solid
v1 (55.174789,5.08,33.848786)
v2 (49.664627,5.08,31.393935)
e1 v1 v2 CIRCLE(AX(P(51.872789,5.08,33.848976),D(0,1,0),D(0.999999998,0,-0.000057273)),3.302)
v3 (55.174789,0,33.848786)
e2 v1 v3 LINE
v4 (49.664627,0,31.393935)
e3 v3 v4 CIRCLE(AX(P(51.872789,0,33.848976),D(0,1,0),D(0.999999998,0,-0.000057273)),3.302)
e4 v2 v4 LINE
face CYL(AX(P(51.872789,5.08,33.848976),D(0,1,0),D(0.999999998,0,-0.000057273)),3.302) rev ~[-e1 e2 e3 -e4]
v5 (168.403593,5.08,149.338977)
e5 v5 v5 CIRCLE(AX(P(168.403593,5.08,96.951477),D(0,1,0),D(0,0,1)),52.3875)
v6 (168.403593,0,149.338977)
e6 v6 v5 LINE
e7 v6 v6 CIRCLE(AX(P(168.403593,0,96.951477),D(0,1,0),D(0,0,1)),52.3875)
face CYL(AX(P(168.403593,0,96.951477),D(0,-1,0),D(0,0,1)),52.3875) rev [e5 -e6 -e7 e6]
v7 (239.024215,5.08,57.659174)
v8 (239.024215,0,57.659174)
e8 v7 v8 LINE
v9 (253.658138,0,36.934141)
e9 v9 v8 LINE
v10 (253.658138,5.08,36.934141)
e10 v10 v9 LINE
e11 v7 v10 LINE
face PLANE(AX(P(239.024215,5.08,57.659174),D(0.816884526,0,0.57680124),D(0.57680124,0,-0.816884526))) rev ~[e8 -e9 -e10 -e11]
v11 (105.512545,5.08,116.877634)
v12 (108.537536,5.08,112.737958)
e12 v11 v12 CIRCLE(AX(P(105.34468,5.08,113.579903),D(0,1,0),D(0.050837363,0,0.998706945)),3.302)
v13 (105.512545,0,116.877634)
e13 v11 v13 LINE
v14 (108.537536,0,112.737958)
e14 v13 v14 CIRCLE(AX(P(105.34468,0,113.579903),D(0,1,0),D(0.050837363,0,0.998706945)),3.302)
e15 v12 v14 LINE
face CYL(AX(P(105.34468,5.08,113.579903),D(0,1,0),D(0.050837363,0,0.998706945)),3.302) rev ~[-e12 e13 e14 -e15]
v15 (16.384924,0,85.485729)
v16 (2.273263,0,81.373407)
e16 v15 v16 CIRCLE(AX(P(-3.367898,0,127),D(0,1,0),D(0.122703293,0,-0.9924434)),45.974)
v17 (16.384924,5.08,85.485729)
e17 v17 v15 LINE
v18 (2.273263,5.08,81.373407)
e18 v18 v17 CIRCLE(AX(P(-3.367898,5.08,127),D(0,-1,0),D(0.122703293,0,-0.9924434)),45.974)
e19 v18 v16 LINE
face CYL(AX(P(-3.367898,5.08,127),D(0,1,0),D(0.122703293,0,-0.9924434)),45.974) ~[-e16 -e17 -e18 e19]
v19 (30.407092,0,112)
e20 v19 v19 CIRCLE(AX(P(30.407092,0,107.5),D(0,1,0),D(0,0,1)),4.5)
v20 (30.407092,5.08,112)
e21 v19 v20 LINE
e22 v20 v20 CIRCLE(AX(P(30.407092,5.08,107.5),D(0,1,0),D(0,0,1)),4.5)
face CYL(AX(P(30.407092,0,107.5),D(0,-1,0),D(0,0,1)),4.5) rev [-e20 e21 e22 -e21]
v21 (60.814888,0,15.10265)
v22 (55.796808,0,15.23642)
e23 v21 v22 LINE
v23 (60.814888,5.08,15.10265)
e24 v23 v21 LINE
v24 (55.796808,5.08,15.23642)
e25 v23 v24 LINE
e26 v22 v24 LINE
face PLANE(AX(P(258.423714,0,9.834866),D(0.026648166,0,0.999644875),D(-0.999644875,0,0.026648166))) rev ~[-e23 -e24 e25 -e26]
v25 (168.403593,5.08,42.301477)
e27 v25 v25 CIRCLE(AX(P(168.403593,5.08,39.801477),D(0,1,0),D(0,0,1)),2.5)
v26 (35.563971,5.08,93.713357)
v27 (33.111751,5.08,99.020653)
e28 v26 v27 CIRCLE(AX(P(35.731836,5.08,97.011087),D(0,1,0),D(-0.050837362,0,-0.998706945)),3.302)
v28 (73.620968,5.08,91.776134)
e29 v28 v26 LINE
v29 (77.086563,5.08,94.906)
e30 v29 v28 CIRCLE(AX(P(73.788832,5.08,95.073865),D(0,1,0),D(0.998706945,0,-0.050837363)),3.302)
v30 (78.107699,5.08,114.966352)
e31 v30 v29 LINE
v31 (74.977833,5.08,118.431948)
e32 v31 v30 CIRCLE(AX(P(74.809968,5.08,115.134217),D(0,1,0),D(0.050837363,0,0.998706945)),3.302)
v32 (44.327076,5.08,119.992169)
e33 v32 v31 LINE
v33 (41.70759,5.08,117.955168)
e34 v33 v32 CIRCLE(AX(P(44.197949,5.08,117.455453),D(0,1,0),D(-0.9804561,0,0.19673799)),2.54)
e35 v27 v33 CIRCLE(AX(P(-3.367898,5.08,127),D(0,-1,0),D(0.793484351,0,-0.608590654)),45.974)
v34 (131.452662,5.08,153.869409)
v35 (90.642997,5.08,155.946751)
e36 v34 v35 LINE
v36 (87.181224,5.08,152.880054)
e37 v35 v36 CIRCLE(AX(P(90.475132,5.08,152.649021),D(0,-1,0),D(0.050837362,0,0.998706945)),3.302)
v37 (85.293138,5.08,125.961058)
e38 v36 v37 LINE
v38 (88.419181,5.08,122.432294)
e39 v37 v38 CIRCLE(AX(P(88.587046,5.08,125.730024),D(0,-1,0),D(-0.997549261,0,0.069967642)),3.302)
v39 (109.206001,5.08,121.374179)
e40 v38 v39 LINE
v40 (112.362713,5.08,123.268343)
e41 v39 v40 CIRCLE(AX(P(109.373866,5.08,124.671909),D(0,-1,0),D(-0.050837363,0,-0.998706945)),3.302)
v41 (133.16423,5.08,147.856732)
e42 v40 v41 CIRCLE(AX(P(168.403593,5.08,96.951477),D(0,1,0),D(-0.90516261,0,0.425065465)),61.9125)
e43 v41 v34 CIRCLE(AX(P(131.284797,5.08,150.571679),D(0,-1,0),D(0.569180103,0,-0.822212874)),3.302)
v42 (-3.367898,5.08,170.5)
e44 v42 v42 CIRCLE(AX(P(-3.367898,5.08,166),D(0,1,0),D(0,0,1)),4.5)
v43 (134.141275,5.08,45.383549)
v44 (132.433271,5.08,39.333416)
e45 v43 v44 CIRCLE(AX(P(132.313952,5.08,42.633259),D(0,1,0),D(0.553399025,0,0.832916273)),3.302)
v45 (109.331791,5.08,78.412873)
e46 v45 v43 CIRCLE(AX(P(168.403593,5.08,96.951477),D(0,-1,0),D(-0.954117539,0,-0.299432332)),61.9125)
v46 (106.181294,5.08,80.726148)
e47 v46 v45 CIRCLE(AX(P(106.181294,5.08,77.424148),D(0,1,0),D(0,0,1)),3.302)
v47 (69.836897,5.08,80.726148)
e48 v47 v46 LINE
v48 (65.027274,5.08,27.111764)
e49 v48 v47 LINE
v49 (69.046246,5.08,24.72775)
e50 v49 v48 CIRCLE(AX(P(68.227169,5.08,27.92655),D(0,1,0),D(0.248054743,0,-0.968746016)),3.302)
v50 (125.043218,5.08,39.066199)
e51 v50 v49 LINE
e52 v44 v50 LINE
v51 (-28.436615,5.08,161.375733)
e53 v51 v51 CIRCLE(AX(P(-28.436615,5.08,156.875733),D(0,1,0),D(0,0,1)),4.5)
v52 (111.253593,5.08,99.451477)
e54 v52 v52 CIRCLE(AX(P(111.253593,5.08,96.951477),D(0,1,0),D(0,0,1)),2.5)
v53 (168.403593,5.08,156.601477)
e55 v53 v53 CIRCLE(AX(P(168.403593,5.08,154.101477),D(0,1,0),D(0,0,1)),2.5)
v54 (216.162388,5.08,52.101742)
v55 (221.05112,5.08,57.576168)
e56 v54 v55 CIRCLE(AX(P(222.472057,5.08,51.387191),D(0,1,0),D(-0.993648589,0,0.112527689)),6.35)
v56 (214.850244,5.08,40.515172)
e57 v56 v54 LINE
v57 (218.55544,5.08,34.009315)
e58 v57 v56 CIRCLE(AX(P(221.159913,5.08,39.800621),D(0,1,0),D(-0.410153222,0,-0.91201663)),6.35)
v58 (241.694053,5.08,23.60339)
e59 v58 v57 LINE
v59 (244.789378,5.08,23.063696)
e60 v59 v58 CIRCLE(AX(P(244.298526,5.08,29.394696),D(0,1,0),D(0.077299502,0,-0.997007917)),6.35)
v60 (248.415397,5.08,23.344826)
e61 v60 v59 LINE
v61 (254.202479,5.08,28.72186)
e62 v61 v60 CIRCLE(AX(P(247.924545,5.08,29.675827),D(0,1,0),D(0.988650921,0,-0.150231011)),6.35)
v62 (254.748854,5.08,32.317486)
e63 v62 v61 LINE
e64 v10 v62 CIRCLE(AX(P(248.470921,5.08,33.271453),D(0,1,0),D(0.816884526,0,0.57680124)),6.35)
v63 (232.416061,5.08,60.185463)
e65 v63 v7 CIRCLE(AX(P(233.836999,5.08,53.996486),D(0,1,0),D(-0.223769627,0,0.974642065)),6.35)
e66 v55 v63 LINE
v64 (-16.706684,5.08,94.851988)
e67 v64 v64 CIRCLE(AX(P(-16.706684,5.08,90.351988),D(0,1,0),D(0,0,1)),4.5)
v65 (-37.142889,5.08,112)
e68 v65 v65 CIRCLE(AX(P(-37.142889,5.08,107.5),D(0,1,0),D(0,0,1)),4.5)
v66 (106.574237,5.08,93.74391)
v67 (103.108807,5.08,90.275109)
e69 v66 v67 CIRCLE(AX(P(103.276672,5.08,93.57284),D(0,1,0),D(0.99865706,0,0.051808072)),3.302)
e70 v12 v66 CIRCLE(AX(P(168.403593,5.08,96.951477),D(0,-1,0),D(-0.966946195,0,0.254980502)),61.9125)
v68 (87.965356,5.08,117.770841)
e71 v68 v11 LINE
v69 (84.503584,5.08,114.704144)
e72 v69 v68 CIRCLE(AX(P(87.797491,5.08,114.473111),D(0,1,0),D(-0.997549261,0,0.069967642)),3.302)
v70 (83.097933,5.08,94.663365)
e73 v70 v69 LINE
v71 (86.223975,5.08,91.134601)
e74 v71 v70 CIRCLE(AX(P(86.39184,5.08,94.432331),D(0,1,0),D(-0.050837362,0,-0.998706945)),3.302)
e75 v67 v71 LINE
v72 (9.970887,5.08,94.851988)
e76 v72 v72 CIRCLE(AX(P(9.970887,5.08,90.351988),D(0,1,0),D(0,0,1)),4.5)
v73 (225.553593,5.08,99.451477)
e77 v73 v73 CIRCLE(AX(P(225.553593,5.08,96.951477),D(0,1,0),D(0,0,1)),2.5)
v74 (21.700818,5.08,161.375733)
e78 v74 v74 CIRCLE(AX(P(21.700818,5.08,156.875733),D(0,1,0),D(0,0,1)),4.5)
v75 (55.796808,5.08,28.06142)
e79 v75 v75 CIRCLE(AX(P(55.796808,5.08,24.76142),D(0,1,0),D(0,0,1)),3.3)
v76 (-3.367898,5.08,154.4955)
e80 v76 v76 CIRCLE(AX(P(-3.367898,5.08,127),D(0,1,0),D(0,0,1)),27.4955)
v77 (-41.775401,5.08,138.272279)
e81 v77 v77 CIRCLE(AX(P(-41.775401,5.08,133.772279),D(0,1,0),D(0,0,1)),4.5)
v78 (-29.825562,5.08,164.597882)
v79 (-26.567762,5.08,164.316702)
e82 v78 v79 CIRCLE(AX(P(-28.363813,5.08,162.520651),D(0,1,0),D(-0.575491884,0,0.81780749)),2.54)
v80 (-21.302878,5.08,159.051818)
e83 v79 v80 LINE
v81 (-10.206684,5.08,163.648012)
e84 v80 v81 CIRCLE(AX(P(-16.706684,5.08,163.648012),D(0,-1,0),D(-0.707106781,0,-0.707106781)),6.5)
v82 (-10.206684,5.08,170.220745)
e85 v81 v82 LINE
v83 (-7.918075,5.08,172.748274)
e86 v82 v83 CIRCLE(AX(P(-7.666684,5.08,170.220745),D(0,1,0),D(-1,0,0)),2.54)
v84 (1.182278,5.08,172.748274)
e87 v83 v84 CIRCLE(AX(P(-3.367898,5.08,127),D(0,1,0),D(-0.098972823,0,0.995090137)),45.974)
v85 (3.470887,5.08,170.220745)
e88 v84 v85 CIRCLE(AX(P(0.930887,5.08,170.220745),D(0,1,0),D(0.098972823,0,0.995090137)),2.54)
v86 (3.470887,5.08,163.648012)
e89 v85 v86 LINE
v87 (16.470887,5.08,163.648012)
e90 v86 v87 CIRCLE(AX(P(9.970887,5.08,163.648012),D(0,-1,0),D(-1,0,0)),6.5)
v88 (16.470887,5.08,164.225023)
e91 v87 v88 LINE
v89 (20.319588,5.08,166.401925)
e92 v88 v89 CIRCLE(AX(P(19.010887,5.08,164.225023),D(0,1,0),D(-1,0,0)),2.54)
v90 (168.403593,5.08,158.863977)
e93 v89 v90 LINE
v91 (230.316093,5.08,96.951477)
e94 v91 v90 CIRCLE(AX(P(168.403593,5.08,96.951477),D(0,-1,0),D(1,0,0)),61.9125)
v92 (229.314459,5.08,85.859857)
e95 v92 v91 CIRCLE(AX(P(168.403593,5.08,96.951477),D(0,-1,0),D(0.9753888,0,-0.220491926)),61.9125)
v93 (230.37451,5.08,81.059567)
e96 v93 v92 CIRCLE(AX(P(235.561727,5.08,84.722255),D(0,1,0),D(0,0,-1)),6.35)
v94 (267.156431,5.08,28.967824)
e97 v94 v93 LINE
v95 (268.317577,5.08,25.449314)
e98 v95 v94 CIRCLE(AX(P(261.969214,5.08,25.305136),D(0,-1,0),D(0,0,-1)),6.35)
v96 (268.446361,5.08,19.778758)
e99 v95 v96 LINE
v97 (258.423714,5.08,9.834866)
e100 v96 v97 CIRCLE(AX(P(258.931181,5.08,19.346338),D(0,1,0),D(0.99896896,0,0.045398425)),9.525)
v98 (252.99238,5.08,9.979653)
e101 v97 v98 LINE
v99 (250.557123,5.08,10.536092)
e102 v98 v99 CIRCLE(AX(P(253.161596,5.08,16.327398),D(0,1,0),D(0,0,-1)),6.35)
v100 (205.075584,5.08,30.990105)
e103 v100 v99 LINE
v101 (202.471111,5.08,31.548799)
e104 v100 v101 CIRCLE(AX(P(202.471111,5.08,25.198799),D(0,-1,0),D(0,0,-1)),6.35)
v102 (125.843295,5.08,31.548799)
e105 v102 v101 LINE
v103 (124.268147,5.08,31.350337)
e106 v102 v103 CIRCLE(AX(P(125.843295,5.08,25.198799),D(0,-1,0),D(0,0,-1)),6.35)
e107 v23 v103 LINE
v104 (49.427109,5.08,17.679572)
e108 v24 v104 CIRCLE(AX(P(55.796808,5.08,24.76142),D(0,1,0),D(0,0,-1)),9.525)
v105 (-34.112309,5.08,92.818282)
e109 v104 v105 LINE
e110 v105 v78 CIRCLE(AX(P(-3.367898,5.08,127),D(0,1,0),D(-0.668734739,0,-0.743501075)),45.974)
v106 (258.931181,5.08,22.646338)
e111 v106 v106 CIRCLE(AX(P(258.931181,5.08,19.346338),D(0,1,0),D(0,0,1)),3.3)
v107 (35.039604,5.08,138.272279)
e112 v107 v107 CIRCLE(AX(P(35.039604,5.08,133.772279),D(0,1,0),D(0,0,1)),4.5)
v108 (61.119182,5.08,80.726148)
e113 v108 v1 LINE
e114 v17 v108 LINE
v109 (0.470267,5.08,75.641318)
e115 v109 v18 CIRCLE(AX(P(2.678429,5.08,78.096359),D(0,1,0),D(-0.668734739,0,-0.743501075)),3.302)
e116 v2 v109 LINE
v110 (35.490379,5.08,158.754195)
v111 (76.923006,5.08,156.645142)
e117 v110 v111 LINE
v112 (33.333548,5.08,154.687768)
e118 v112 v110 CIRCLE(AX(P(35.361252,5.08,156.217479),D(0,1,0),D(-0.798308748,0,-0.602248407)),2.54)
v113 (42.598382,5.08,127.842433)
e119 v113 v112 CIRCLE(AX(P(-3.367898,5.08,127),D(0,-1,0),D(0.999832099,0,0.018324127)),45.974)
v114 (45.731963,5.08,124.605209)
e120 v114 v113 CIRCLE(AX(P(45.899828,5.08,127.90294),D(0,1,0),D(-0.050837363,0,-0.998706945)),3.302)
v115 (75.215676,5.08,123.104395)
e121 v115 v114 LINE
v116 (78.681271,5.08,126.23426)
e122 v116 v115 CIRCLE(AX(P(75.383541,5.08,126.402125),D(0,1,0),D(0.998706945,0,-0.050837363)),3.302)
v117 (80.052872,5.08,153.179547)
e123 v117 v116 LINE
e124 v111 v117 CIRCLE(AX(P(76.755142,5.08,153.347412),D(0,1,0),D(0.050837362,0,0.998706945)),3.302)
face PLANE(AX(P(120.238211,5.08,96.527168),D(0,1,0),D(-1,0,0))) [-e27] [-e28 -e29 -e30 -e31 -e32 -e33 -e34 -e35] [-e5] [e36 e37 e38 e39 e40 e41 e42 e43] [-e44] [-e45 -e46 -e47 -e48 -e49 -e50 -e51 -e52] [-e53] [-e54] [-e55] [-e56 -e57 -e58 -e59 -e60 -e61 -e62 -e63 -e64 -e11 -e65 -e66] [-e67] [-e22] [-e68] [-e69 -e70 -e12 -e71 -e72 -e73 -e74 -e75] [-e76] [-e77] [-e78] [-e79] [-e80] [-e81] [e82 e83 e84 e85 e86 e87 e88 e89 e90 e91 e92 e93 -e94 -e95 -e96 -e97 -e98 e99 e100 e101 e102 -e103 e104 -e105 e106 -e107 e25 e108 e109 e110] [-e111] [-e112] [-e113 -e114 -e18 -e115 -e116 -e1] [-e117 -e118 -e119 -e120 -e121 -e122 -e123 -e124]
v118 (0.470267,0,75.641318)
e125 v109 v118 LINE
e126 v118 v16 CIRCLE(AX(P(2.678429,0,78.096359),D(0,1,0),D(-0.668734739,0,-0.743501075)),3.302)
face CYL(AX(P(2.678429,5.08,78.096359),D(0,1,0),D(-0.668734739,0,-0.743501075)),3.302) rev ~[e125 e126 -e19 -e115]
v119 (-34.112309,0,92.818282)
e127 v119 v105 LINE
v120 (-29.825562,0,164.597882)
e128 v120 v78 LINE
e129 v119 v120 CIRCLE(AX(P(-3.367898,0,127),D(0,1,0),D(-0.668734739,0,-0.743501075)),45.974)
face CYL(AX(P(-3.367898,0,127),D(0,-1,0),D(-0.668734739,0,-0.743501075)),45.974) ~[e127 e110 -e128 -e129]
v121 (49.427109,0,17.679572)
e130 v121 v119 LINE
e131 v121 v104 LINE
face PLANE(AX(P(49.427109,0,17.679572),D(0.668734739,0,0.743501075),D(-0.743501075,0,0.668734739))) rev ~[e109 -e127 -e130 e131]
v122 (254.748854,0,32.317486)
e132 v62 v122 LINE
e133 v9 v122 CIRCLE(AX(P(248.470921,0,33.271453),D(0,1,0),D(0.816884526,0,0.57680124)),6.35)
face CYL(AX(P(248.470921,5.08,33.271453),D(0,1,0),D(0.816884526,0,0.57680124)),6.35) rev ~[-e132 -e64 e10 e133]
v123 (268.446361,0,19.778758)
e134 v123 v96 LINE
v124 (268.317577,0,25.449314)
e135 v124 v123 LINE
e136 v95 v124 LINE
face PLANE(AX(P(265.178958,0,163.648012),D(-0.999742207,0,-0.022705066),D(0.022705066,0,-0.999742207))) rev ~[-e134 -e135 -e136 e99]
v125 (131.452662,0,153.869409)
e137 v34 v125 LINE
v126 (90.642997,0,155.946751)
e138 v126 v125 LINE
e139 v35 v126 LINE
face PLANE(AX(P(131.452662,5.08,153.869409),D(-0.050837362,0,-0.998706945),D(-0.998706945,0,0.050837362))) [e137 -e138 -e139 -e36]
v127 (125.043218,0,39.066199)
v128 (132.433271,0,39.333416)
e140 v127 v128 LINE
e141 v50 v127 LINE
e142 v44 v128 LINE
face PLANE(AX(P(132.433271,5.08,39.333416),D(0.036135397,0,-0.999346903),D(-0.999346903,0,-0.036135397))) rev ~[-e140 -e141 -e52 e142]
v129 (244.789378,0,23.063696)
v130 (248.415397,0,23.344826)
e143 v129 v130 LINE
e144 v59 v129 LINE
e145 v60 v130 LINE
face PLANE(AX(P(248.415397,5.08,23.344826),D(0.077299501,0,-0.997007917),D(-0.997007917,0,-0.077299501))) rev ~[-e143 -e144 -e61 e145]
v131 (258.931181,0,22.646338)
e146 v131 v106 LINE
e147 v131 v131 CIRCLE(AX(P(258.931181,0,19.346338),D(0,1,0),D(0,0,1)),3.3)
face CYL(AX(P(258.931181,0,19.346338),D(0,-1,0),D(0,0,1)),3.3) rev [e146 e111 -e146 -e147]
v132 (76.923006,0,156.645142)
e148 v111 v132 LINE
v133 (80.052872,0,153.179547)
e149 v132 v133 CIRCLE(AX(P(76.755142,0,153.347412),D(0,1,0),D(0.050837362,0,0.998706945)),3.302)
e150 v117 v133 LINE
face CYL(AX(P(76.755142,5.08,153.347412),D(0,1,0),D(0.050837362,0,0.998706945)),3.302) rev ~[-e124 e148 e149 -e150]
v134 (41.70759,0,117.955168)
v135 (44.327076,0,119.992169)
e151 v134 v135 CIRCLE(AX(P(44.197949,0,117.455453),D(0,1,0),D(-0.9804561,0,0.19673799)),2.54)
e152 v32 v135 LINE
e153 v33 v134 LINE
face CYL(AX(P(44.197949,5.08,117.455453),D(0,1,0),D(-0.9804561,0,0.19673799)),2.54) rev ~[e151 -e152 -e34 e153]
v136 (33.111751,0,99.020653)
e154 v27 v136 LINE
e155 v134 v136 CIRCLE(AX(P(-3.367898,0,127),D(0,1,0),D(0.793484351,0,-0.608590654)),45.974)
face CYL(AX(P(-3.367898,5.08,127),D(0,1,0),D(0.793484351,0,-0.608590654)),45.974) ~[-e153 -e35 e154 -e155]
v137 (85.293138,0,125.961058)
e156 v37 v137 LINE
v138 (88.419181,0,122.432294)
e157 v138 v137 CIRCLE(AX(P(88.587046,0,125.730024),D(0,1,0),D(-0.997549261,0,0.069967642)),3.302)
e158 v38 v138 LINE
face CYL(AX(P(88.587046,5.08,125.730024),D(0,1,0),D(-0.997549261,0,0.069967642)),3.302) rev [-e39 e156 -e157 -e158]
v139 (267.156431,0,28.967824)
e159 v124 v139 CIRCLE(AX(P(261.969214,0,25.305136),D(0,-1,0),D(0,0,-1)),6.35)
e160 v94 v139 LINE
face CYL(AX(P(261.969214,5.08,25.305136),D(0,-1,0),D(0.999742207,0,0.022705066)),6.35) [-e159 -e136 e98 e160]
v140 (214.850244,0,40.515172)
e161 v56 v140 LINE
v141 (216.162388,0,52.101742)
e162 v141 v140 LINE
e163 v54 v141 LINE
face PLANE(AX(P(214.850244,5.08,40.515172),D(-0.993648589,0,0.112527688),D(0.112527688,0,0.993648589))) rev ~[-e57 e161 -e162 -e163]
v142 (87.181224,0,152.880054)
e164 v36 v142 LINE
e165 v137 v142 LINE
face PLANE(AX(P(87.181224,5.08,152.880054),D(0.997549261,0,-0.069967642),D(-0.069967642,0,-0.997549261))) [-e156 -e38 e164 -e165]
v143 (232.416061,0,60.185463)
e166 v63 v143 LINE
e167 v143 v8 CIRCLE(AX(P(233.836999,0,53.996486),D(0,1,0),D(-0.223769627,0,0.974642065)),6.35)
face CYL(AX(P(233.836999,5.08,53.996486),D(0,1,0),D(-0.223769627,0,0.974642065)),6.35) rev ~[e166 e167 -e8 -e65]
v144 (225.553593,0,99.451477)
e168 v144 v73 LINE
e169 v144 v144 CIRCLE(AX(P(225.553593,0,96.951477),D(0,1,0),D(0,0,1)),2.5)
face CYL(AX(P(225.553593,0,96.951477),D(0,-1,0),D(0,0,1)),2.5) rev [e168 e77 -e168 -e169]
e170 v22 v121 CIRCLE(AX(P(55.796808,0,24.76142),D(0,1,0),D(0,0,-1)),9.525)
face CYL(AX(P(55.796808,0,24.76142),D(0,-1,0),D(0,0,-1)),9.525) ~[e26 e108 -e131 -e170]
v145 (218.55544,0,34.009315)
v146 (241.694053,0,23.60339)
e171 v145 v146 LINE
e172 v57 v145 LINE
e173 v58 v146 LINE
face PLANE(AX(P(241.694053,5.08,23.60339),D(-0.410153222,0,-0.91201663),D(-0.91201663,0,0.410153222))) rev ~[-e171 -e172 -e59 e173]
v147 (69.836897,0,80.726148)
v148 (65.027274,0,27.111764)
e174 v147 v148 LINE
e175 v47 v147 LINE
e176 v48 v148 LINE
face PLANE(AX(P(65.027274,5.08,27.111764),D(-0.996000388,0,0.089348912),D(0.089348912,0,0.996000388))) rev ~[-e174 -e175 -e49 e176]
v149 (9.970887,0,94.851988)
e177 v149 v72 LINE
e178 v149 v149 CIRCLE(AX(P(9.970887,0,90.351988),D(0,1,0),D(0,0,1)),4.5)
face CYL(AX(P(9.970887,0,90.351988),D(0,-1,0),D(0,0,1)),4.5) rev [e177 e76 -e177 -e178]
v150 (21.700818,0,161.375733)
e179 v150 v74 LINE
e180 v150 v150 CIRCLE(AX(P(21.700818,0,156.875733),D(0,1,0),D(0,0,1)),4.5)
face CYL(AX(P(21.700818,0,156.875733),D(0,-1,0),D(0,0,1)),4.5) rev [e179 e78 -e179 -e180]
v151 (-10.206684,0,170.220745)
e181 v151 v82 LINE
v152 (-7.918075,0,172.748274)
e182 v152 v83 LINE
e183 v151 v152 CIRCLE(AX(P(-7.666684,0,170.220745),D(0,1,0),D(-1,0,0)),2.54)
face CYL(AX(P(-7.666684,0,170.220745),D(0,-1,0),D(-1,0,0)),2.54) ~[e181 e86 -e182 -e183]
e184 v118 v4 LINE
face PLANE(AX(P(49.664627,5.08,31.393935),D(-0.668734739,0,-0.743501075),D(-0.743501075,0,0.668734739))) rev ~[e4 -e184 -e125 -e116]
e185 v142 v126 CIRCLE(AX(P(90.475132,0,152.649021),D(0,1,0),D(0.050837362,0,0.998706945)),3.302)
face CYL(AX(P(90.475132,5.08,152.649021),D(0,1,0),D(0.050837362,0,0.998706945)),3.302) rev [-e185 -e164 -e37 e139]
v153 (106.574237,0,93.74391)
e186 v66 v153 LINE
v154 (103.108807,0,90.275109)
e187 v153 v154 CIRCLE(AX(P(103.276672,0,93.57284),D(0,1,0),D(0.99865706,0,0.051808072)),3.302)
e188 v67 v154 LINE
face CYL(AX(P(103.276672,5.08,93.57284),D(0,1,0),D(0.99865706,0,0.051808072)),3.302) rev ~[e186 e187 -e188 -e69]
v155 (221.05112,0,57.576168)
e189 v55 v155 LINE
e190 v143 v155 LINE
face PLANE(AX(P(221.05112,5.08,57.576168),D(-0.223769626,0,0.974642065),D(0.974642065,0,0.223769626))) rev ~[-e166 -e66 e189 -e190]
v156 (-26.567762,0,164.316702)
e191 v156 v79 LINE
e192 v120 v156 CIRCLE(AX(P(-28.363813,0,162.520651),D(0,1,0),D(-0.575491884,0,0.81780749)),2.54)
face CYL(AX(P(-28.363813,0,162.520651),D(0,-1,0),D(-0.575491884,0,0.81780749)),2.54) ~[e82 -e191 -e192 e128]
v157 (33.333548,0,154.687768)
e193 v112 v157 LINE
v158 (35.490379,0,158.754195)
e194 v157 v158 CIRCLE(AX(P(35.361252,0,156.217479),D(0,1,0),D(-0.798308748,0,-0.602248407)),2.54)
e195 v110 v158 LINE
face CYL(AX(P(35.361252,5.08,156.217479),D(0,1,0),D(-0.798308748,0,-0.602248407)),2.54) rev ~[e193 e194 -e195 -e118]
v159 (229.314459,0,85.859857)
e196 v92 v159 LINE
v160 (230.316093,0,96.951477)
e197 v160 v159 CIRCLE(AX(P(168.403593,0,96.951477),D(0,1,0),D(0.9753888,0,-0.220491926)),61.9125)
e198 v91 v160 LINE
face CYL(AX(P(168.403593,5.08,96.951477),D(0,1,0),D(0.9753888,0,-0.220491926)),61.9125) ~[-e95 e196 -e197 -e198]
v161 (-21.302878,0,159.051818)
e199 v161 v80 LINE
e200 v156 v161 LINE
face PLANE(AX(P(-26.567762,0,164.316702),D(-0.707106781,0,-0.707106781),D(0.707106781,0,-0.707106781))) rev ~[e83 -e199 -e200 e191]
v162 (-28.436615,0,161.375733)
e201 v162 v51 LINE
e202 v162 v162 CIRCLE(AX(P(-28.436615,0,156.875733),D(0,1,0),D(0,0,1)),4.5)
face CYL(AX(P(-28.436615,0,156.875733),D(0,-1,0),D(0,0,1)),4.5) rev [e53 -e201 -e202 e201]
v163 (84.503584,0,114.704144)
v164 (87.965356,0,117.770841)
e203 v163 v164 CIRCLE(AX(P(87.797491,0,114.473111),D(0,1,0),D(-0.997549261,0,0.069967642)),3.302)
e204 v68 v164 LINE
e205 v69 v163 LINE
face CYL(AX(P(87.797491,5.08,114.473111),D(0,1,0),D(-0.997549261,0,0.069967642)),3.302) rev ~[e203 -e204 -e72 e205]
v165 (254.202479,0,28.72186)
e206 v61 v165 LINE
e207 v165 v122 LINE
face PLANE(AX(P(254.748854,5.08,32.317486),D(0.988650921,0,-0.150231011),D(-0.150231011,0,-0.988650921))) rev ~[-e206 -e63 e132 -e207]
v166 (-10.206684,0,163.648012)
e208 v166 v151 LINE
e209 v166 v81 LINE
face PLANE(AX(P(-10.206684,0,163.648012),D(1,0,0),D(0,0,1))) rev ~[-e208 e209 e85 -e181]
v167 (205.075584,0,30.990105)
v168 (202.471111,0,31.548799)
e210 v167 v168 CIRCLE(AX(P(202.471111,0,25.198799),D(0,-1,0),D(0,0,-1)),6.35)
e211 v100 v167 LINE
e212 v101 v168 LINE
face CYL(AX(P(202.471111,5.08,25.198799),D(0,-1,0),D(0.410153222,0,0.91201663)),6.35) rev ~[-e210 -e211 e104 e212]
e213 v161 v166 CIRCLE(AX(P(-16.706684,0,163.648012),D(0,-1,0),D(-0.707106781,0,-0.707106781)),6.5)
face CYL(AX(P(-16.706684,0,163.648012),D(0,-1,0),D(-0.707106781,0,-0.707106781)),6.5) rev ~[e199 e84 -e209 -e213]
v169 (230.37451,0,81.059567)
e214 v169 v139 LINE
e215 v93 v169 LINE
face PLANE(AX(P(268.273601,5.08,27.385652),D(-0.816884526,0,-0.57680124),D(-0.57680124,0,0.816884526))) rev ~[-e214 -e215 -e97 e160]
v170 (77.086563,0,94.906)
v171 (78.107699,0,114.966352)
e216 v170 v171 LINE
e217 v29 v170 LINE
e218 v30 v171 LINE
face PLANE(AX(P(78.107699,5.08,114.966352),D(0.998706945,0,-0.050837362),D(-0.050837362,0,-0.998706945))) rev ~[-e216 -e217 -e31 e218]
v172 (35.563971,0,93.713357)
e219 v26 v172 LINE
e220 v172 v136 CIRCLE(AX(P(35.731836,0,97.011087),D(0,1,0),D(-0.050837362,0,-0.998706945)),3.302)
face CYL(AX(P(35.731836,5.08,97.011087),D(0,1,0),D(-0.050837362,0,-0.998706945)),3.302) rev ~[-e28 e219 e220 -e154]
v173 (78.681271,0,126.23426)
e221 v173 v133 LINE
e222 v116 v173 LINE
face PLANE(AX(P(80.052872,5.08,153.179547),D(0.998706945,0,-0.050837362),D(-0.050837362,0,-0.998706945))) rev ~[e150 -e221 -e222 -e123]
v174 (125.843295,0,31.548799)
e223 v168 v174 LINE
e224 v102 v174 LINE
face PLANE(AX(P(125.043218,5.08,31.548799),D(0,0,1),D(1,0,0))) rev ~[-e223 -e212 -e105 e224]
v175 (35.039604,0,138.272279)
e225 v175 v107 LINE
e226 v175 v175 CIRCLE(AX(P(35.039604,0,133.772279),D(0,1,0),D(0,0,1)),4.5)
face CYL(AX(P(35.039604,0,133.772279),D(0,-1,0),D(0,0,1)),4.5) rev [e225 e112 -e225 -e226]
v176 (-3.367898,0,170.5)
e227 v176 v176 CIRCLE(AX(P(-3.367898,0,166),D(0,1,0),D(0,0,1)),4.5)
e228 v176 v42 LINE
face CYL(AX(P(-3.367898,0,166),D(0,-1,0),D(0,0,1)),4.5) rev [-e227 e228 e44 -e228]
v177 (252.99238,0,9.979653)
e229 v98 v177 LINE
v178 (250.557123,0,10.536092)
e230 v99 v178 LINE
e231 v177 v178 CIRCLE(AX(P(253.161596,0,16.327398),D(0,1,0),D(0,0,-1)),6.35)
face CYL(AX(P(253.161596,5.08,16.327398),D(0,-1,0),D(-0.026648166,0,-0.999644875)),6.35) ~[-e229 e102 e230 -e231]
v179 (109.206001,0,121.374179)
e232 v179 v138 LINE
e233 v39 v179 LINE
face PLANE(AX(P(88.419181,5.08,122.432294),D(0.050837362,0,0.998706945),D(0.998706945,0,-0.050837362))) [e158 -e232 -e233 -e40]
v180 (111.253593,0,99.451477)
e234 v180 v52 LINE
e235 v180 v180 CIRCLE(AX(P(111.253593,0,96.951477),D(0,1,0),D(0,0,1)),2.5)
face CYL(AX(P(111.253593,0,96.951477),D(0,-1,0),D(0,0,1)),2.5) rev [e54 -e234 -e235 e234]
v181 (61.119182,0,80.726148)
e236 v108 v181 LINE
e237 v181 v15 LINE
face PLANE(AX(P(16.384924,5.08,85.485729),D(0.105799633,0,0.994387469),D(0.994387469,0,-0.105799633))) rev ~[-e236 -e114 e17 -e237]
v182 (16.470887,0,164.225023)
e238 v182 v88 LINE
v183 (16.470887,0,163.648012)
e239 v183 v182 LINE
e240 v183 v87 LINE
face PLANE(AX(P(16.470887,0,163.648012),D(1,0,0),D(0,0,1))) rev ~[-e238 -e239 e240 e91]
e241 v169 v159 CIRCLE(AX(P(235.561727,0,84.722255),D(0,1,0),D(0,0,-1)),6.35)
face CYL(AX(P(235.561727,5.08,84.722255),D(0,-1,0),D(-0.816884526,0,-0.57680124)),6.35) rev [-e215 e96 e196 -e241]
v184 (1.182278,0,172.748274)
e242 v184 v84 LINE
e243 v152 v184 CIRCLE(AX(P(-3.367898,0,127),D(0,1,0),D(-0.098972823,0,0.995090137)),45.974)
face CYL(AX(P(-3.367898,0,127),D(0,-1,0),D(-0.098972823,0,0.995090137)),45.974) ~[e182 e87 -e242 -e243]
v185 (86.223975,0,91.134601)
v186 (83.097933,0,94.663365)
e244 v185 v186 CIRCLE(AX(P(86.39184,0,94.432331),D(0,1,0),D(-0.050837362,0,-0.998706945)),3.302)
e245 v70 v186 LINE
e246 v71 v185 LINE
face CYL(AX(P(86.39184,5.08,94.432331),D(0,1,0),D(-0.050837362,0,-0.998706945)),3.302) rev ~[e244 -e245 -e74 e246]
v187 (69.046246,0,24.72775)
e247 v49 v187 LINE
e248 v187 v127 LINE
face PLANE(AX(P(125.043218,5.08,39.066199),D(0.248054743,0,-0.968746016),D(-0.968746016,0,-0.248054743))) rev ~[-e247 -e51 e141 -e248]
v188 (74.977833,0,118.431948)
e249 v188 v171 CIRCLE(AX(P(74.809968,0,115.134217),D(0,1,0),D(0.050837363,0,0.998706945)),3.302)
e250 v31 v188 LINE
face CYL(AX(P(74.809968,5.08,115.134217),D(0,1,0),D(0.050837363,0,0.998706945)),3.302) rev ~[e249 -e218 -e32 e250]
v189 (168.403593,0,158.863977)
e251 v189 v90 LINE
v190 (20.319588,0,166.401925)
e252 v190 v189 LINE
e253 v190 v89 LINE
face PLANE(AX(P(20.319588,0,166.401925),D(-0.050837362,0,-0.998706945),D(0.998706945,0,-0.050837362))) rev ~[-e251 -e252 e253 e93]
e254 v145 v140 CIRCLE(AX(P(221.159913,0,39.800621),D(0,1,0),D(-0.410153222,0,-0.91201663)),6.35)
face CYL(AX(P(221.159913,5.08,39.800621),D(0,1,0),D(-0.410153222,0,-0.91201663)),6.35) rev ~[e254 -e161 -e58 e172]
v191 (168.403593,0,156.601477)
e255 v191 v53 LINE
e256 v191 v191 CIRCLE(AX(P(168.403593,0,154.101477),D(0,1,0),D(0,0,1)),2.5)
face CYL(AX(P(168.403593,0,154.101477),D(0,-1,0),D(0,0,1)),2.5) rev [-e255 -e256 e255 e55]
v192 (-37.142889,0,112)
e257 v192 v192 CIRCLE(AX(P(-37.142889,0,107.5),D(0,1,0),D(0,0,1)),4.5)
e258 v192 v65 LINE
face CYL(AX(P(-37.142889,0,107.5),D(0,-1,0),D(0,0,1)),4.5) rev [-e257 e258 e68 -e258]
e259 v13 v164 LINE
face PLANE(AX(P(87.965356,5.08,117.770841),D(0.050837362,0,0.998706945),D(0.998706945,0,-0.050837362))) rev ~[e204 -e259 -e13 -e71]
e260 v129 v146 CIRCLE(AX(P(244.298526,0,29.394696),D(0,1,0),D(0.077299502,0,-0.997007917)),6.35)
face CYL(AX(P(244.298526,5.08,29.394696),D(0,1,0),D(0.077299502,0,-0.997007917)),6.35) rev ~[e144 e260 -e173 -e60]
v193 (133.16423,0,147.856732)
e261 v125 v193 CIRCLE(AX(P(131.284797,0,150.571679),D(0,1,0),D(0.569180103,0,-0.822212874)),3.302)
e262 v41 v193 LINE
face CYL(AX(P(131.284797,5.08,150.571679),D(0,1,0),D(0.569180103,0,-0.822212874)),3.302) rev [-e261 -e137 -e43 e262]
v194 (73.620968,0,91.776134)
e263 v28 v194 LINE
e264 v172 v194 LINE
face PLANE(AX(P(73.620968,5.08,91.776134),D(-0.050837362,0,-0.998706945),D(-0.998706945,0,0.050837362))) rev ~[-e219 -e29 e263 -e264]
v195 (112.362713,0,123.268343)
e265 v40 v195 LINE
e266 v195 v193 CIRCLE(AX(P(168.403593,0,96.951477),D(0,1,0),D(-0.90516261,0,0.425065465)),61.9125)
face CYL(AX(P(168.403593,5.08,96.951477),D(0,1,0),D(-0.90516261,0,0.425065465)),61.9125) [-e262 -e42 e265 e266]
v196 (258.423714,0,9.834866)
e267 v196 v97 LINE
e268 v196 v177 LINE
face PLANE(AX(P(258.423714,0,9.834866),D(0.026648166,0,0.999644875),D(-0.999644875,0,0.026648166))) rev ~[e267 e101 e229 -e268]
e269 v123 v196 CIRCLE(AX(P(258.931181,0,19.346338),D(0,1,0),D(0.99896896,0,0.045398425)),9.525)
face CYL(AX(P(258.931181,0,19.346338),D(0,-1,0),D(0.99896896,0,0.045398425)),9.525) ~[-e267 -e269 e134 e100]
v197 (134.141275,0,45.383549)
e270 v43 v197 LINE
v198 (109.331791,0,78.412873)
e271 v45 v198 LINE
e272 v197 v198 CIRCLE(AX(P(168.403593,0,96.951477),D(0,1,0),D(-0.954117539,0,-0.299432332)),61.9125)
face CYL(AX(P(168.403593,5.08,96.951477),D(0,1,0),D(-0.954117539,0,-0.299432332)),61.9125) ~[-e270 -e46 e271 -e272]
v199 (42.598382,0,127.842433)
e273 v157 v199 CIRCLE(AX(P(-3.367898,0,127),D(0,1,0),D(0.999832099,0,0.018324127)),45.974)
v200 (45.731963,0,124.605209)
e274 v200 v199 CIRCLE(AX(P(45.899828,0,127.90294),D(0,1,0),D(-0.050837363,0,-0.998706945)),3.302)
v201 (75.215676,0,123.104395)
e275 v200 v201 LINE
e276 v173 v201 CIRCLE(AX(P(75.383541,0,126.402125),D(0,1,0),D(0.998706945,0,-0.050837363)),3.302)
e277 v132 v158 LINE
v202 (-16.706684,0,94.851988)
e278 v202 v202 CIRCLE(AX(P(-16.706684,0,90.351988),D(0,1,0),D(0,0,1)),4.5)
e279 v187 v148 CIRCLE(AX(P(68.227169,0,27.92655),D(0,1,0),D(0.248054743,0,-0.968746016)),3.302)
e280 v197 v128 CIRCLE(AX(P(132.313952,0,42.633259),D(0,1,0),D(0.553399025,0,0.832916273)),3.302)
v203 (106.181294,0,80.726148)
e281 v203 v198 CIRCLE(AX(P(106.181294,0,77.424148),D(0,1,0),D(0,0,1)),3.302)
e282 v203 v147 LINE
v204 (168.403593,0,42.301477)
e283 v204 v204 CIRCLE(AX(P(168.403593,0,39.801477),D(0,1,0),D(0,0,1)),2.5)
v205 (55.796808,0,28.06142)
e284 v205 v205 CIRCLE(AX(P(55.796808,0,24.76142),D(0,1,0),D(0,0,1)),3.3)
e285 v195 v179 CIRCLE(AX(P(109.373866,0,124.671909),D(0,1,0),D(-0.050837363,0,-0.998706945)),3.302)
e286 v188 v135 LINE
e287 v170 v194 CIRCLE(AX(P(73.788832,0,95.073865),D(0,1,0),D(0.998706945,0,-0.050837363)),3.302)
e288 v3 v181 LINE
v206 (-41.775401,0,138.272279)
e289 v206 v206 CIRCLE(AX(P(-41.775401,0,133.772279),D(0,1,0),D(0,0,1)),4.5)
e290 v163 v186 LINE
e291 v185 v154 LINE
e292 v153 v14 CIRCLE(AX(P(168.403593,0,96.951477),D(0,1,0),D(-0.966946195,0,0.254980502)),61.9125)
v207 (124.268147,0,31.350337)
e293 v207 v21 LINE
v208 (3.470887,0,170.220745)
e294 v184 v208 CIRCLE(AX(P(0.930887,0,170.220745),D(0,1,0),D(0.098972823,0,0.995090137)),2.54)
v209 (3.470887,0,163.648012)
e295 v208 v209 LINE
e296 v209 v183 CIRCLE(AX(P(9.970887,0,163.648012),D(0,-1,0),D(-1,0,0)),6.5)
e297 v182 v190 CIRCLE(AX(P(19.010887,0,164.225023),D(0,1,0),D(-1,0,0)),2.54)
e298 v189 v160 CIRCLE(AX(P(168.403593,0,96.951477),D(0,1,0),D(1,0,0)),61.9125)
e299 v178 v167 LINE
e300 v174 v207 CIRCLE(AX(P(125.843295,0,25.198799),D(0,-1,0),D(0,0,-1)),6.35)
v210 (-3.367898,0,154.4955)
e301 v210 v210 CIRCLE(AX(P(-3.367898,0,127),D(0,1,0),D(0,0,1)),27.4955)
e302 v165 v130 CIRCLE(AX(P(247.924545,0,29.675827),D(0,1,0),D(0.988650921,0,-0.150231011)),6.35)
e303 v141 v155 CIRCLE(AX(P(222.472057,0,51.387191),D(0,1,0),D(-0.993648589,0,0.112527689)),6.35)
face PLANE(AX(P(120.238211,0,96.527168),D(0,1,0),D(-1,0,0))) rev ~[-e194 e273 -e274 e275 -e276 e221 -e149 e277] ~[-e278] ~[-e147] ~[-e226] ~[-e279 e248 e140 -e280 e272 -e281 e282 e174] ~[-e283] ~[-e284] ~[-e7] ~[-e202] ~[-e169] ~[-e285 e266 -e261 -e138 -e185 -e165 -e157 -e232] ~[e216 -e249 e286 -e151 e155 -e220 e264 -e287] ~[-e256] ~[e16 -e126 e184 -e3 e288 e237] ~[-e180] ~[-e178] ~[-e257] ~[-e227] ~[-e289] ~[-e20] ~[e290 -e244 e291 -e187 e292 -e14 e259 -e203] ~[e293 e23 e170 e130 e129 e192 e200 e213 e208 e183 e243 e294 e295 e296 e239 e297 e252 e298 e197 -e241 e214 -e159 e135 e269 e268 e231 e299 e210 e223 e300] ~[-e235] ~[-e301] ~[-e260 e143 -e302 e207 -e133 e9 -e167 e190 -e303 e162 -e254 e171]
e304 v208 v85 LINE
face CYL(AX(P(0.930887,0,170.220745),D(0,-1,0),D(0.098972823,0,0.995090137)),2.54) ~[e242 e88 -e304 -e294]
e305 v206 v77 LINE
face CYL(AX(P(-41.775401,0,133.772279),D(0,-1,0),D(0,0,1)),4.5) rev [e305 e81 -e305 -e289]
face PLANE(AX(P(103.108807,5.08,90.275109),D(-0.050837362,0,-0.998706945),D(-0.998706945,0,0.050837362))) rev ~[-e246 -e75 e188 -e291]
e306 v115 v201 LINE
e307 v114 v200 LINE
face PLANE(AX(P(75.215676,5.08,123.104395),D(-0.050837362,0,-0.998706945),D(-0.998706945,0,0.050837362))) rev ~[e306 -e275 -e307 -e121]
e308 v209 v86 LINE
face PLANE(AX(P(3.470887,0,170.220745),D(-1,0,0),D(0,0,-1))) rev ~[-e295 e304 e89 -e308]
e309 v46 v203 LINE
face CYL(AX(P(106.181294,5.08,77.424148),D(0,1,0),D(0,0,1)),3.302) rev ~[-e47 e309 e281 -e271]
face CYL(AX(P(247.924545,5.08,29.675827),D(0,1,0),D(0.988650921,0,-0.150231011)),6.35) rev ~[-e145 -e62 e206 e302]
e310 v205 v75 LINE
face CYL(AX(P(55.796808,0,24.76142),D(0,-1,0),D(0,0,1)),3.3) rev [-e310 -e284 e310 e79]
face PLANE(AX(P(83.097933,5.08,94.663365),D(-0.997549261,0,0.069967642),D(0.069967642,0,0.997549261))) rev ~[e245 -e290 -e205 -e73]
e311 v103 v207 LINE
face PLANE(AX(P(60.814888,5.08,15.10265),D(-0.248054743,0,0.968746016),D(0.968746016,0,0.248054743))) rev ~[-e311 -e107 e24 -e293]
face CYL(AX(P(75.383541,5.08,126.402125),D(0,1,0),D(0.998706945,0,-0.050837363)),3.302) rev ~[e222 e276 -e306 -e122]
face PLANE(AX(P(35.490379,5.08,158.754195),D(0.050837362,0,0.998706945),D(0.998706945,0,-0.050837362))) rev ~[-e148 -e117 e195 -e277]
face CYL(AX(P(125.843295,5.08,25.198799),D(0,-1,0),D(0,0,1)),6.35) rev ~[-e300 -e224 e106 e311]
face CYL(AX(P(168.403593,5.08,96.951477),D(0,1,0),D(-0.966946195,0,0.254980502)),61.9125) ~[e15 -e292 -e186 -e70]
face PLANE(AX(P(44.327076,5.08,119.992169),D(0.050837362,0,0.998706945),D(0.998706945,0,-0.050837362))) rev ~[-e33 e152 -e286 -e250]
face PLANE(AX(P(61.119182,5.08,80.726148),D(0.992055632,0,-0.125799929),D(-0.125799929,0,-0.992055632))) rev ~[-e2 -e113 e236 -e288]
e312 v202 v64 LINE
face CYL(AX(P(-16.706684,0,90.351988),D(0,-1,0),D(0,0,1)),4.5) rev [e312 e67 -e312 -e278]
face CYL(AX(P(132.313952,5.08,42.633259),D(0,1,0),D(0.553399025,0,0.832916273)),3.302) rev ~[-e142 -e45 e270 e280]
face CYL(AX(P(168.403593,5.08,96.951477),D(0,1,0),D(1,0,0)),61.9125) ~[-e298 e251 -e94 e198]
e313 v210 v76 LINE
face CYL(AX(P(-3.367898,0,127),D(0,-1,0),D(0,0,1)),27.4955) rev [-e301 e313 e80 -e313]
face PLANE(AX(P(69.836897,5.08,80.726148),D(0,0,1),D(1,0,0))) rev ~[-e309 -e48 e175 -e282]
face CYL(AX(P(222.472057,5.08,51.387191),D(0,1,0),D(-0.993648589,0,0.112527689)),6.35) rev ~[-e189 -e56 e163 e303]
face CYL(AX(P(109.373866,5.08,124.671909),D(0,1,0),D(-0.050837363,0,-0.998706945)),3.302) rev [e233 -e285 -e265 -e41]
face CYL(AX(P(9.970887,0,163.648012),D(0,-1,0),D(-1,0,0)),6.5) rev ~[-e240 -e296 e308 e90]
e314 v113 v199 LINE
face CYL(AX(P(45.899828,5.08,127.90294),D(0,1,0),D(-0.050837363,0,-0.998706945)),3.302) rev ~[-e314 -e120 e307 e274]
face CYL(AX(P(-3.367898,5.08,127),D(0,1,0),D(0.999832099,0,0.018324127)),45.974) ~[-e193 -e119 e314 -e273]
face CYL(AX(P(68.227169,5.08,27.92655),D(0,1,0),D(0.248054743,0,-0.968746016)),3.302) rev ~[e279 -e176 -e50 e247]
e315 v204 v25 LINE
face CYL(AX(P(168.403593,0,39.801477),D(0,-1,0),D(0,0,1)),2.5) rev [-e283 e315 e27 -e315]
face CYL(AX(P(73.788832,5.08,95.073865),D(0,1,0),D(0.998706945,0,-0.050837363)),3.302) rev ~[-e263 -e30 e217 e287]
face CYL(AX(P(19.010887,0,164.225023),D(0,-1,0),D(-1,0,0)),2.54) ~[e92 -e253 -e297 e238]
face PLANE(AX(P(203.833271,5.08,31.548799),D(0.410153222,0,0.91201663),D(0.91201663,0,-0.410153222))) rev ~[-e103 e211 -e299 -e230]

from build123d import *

# Parameters (mm, degrees)
SKETCH3_R           = 2.5
SKETCH3_R_2         = 52.3875
SKETCH3_R_3         = 3.3
SKETCH3_R_4         = 4.5
SKETCH3_R_5         = 27.4955
SKETCH3_R_6         = 3.300000004
BOSS_EXTRUDE1_DEPTH = 5.08
CUT_EXTRUDE3_REACH  = 321.397
CUT_EXTRUDE4_REACH  = 321.397
CUT_EXTRUDE5_REACH  = 321.397
CUT_EXTRUDE7_REACH  = 321.397
CUT_EXTRUDE8_REACH  = 321.397
FILLET1_R           = 6.35


with BuildPart() as part:
    # Sketch3 → Boss-Extrude1 (new body)
    with BuildSketch(Plane(origin=(0, 0, 0), x_dir=(-1, 0, 0), z_dir=(0, 1, 0))):
        with BuildLine():
            Line((-49.427109136, 17.679572239), (34.112309331, 92.818281558))
            ThreePointArc((34.112309331, 92.818281558), (49.260131818, 129.740728466), (29.825562347, 164.597881552))
            ThreePointArc((29.825562347, 164.597881552), (28.145398332, 165.051242365), (26.567761736, 164.316701751))
            Line((26.567761736, 164.316701751), (21.302878118, 159.051818133))
            ThreePointArc((21.302878118, 159.051818133), (14.21924173, 157.642795249), (10.20668404, 163.648012211))
            Line((10.20668404, 163.648012211), (10.20668404, 170.220745001))
            ThreePointArc((10.20668404, 170.220745001), (9.549518747, 171.925600851), (7.91807501, 172.748273949))
            ThreePointArc((7.91807501, 172.748273949), (3.367898451, 172.974), (-1.182278109, 172.748273949))
            ThreePointArc((-1.182278109, 172.748273949), (-2.813721846, 171.925600851), (-3.470887139, 170.220745001))
            Line((-3.470887139, 170.220745001), (-3.470887139, 163.648012211))
            ThreePointArc((-3.470887139, 163.648012211), (-9.970887139, 157.148012211), (-16.470887139, 163.648012211))
            Line((-16.470887139, 163.648012211), (-16.470887139, 164.225022653))
            ThreePointArc((-16.470887139, 164.225022653), (-17.760387302, 166.435870942), (-20.319588051, 166.401924563))
            Line((-20.319588051, 166.401924563), (-168.403592651, 158.863977372))
            Line((-168.403592651, 158.863977372), (-265.178957518, 163.648012211))
            Line((-265.178957518, 163.648012211), (-268.446360693, 19.778758396))
            ThreePointArc((-268.446360693, 19.778758396), (-265.639755471, 12.584633122), (-258.423714062, 9.834866275))
            Line((-258.423714062, 9.834866275), (-55.796807523, 15.236419982))
            ThreePointArc((-55.796807523, 15.236419982), (-52.385720802, 15.868157792), (-49.427109136, 17.679572239))
        make_face()
        with Locations(Location((-168.403592651, 39.801477371, 0), (0, 0, 90))):
            Circle(SKETCH3_R, mode=Mode.SUBTRACT)
        with Locations(Location((-225.553592651, 96.951477371, 0), (0, 0, 90))):
            Circle(SKETCH3_R, mode=Mode.SUBTRACT)
        with Locations(Location((-168.403592651, 96.951477372, 0), (0, 0, 90))):
            Circle(SKETCH3_R_2, mode=Mode.SUBTRACT)
        with Locations(Location((-111.253592651, 96.951477371, 0), (0, 0, 90))):
            Circle(SKETCH3_R, mode=Mode.SUBTRACT)
        with Locations(Location((-168.403592651, 154.101477371, 0), (0, 0, 90))):
            Circle(SKETCH3_R, mode=Mode.SUBTRACT)
        with Locations(Location((-55.796807523, 24.761419982, 0), (0, 0, 90))):
            Circle(SKETCH3_R_3, mode=Mode.SUBTRACT)
        with Locations(Location((28.436615228, 156.875733282, 0), (0, 0, 90))):
            Circle(SKETCH3_R_4, mode=Mode.SUBTRACT)
        with Locations(Location((-9.970887139, 90.351987789, 0), (0, 0, 90))):
            Circle(SKETCH3_R_4, mode=Mode.SUBTRACT)
        with Locations(Location((16.70668404, 90.351987789, 0), (0, 0, 90))):
            Circle(SKETCH3_R_4, mode=Mode.SUBTRACT)
        with Locations(Location((-30.407092297, 107.5, 0), (0, 0, 90))):
            Circle(SKETCH3_R_4, mode=Mode.SUBTRACT)
        with Locations(Location((37.142889198, 107.5, 0), (0, 0, 90))):
            Circle(SKETCH3_R_4, mode=Mode.SUBTRACT)
        with Locations(Location((3.367898451, 127, 0), (0, 0, 90))):
            Circle(SKETCH3_R_5, mode=Mode.SUBTRACT)
        with Locations(Location((-35.039603917, 133.772278929, 0), (0, 0, 90))):
            Circle(SKETCH3_R_4, mode=Mode.SUBTRACT)
        with Locations(Location((41.775400818, 133.772278929, 0), (0, 0, 90))):
            Circle(SKETCH3_R_4, mode=Mode.SUBTRACT)
        with Locations(Location((-21.700818327, 156.875733282, 0), (0, 0, 90))):
            Circle(SKETCH3_R_4, mode=Mode.SUBTRACT)
        with Locations(Location((3.367898451, 166, 0), (0, 0, 90))):
            Circle(SKETCH3_R_4, mode=Mode.SUBTRACT)
        with Locations(Location((-258.931181349, 19.346338398, 0), (0, 0, 90))):
            Circle(SKETCH3_R_6, mode=Mode.SUBTRACT)
    extrude(amount=BOSS_EXTRUDE1_DEPTH)

    # Sketch12 → Cut-Extrude3 (cut, up to next)
    with BuildSketch(Plane(origin=(0, 5.08, 0), x_dir=(1, 0, 0), z_dir=(0, 1, 0)), mode=Mode.PRIVATE) as cut_extrude3_sk1:
        with BuildLine():
            Line((265.178957518, -163.648012211), (267.97556459, -40.508702148))
            Line((267.97556459, -40.508702148), (230.316092651, -96.951477372))
            ThreePointArc((230.316092651, -96.951477372), (212.182341242, -140.730225962), (168.403592651, -158.863977372))
            Line((168.403592651, -158.863977372), (265.178957518, -163.648012211))
        make_face()
    cut_extrude3_tool1 = extrude(cut_extrude3_sk1.sketch, amount=-CUT_EXTRUDE3_REACH, mode=Mode.PRIVATE) & part.part
    # Sketch12 → Cut-Extrude3 (cut, up to next)
    with BuildSketch(Plane(origin=(0, 5.08, 0), x_dir=(1, 0, 0), z_dir=(0, 1, 0)), mode=Mode.PRIVATE) as cut_extrude3_sk2:
        with BuildLine():
            Line((267.97556459, -40.508702148), (268.273601144, -27.385651725))
            Line((268.273601144, -27.385651725), (228.792351717, -83.300271022))
            ThreePointArc((228.792351717, -83.300271022), (229.933978242, -90.083486013), (230.316092651, -96.951477372))
            Line((230.316092651, -96.951477372), (267.97556459, -40.508702148))
        make_face()
    cut_extrude3_tool2 = extrude(cut_extrude3_sk2.sketch, amount=-CUT_EXTRUDE3_REACH, mode=Mode.PRIVATE) & part.part
    add(cut_extrude3_tool1.solids().sort_by_distance((242.898488, 5.08, 120.934583))[0], mode=Mode.SUBTRACT)
    add(cut_extrude3_tool2.solids().sort_by_distance((248.238841, 5.08, 62.857625))[0], mode=Mode.SUBTRACT)

    # Sketch13 → Cut-Extrude4 (cut, up to next)
    with BuildSketch(Plane(origin=(0, 5.08, 0), x_dir=(1, 0, 0), z_dir=(0, 1, 0)), mode=Mode.PRIVATE) as cut_extrude4_sk1:
        Polygon((203.83327128, -31.548799417), (251.718937312, -10.013599753), (60.814888047, -15.102649833), (125.043218003, -31.548799417), align=None)
    cut_extrude4_tool1 = extrude(cut_extrude4_sk1.sketch, amount=-CUT_EXTRUDE4_REACH, mode=Mode.PRIVATE) & part.part
    add(cut_extrude4_tool1.solids().sort_by_distance((161.52534, 5.08, 20.689871))[0], mode=Mode.SUBTRACT)

    # Sketch14 → Cut-Extrude5 (cut, up to next)
    with BuildSketch(Plane(origin=(0, 5.08, 0), x_dir=(1, 0, 0), z_dir=(0, 1, 0)), mode=Mode.PRIVATE) as cut_extrude5_sk1:
        with BuildLine():
            Line((239.024215296, -57.659173825), (253.658137658, -36.934140814))
            ThreePointArc((253.658137658, -36.934140814), (254.650790818, -34.73148992), (254.748854263, -32.317486022))
            Line((254.748854263, -32.317486022), (254.202478841, -28.721859784))
            ThreePointArc((254.202478841, -28.721859784), (252.246840617, -25.023916895), (248.415397328, -23.344826428))
            Line((248.415397328, -23.344826428), (244.789377516, -23.063695738))
            ThreePointArc((244.789377516, -23.063695738), (243.207807499, -23.139071835), (241.694052718, -23.603390409))
            Line((241.694052718, -23.603390409), (218.555439905, -34.009315359))
            ThreePointArc((218.555439905, -34.009315359), (215.642030878, -36.658093579), (214.850244325, -40.515171783))
            Line((214.850244325, -40.515171783), (216.162388213, -52.101741658))
            ThreePointArc((216.162388213, -52.101741658), (217.735718318, -55.616800534), (221.05111963, -57.576167948))
            Line((221.05111963, -57.576167948), (232.416061427, -60.185463062))
            ThreePointArc((232.416061427, -60.185463062), (236.104541247, -59.927822237), (239.024215296, -57.659173825))
        make_face()
    cut_extrude5_tool1 = extrude(cut_extrude5_sk1.sketch, amount=-CUT_EXTRUDE5_REACH, mode=Mode.PRIVATE) & part.part
    add(cut_extrude5_tool1.solids().sort_by_distance((234.242502, 5.08, 41.374423))[0], mode=Mode.SUBTRACT)

    # Sketch16 → Cut-Extrude7 (cut, up to next)
    with BuildSketch(Plane(origin=(0, 5.08, 0), x_dir=(1, 0, 0), z_dir=(0, 1, 0)), mode=Mode.PRIVATE) as cut_extrude7_sk1:
        with BuildLine():
            ThreePointArc((69.046245626, -24.727750323), (66.542546074, -25.08661128), (65.027273865, -27.111763809))
            Line((65.027273865, -27.111763809), (69.836897349, -80.726147549))
            Line((69.836897349, -80.726147549), (104.902932966, -80.726147549))
            Line((104.902932966, -80.726147549), (106.181294396, -80.726147549))
            ThreePointArc((106.181294396, -80.726147549), (108.135575875, -80.085723755), (109.33179051, -78.41287311))
            ThreePointArc((109.33179051, -78.41287311), (118.900577331, -59.768024998), (134.141275498, -45.383548584))
            ThreePointArc((134.141275498, -45.383548584), (135.491747028, -41.736140201), (132.433270999, -39.333415574))
            Line((132.433270999, -39.333415574), (125.043218003, -39.066198553))
            Line((125.043218003, -39.066198553), (69.046245626, -24.727750323))
        make_face()
    cut_extrude7_tool1 = extrude(cut_extrude7_sk1.sketch, amount=-CUT_EXTRUDE7_REACH, mode=Mode.PRIVATE) & part.part
    # Sketch16 → Cut-Extrude7 (cut, up to next)
    with BuildSketch(Plane(origin=(0, 5.08, 0), x_dir=(1, 0, 0), z_dir=(0, 1, 0)), mode=Mode.PRIVATE) as cut_extrude7_sk2:
        with BuildLine():
            Line((49.664626521, -31.393934958), (0.470266897, -75.641318477))
            ThreePointArc((0.470266897, -75.641318477), (-0.471425182, -79.08712772), (2.273262732, -81.373407135))
            ThreePointArc((2.273262732, -81.373407135), (9.494503836, -82.861951976), (16.384923505, -85.48572895))
            Line((16.384923505, -85.48572895), (61.119181788, -80.726147549))
            Line((61.119181788, -80.726147549), (55.174788623, -33.848786392))
            ThreePointArc((55.174788623, -33.848786392), (53.21654985, -30.832767661), (49.664626521, -31.393934958))
        make_face()
    cut_extrude7_tool2 = extrude(cut_extrude7_sk2.sketch, amount=-CUT_EXTRUDE7_REACH, mode=Mode.PRIVATE) & part.part
    add(cut_extrude7_tool1.solids().sort_by_distance((93.414384, 5.08, 53.604696))[0], mode=Mode.SUBTRACT)
    add(cut_extrude7_tool2.solids().sort_by_distance((36.14539, 5.08, 64.371233))[0], mode=Mode.SUBTRACT)

    # Sketch17 → Cut-Extrude8 (cut, up to next)
    with BuildSketch(Plane(origin=(0, 5.08, 0), x_dir=(1, 0, 0), z_dir=(0, 1, 0)), mode=Mode.PRIVATE) as cut_extrude8_sk1:
        with BuildLine():
            Line((131.452661798, -153.869409186), (90.64299686, -155.94675103))
            ThreePointArc((90.64299686, -155.94675103), (88.285567179, -155.120661928), (87.181224228, -152.88005385))
            Line((87.181224228, -152.88005385), (85.293138328, -125.961057562))
            ThreePointArc((85.293138328, -125.961057562), (86.115404758, -123.540459697), (88.419181019, -122.432294075))
            Line((88.419181019, -122.432294075), (109.206000647, -121.374178791))
            ThreePointArc((109.206000647, -121.374178791), (111.07282097, -121.840521706), (112.362712556, -123.268342959))
            ThreePointArc((112.362712556, -123.268342959), (121.136607146, -136.938847096), (133.164229527, -147.856731942))
            ThreePointArc((133.164229527, -147.856731942), (134.460631969, -151.475711569), (131.452661798, -153.869409186))
        make_face()
    cut_extrude8_tool1 = extrude(cut_extrude8_sk1.sketch, amount=-CUT_EXTRUDE8_REACH, mode=Mode.PRIVATE) & part.part
    # Sketch17 → Cut-Extrude8 (cut, up to next)
    with BuildSketch(Plane(origin=(0, 5.08, 0), x_dir=(1, 0, 0), z_dir=(0, 1, 0)), mode=Mode.PRIVATE) as cut_extrude8_sk2:
        with BuildLine():
            Line((103.108806839, -90.275109461), (86.223975368, -91.134601128))
            ThreePointArc((86.223975368, -91.134601128), (83.920199108, -92.24276675), (83.097932678, -94.663364615))
            Line((83.097932678, -94.663364615), (84.503583656, -114.704144256))
            ThreePointArc((84.503583656, -114.704144256), (85.607926606, -116.944752333), (87.965356288, -117.770841435))
            Line((87.965356288, -117.770841435), (105.512545009, -116.877633676))
            ThreePointArc((105.512545009, -116.877633676), (108.01073352, -115.528072439), (108.537536373, -112.737957724))
            ThreePointArc((108.537536373, -112.737957724), (106.819205366, -103.317080168), (106.574237422, -93.743910051))
            ThreePointArc((106.574237422, -93.743910051), (105.61267286, -91.239108214), (103.108806839, -90.275109461))
        make_face()
    cut_extrude8_tool2 = extrude(cut_extrude8_sk2.sketch, amount=-CUT_EXTRUDE8_REACH, mode=Mode.PRIVATE) & part.part
    # Sketch17 → Cut-Extrude8 (cut, up to next)
    with BuildSketch(Plane(origin=(0, 5.08, 0), x_dir=(1, 0, 0), z_dir=(0, 1, 0)), mode=Mode.PRIVATE) as cut_extrude8_sk3:
        with BuildLine():
            Line((80.052871844, -153.179546907), (78.681270967, -126.234259887))
            ThreePointArc((78.681270967, -126.234259887), (77.596689655, -123.951578918), (75.215675662, -123.104394525))
            Line((75.215675662, -123.104394525), (45.731963094, -124.605209342))
            ThreePointArc((45.731963094, -124.605209342), (43.527290634, -125.606361756), (42.598382473, -127.842433409))
            ThreePointArc((42.598382473, -127.842433409), (40.090774846, -141.998412958), (33.333547926, -154.687768236))
            ThreePointArc((33.333547926, -154.687768236), (33.117348121, -157.40764503), (35.490379046, -158.754194829))
            Line((35.490379046, -158.754194829), (76.923006481, -156.645142211))
            ThreePointArc((76.923006481, -156.645142211), (79.205687451, -155.5605609), (80.052871844, -153.179546907))
        make_face()
    cut_extrude8_tool3 = extrude(cut_extrude8_sk3.sketch, amount=-CUT_EXTRUDE8_REACH, mode=Mode.PRIVATE) & part.part
    # Sketch17 → Cut-Extrude8 (cut, up to next)
    with BuildSketch(Plane(origin=(0, 5.08, 0), x_dir=(1, 0, 0), z_dir=(0, 1, 0)), mode=Mode.PRIVATE) as cut_extrude8_sk4:
        with BuildLine():
            Line((78.107698609, -114.966352394), (77.086562804, -94.905999706))
            ThreePointArc((77.086562804, -94.905999706), (76.001981493, -92.623318737), (73.6209675, -91.776134344))
            Line((73.6209675, -91.776134344), (35.56397146, -93.713356579))
            ThreePointArc((35.56397146, -93.713356579), (32.734334769, -95.626100347), (33.111751104, -99.020653253))
            ThreePointArc((33.111751104, -99.020653253), (38.494245596, -107.995538108), (41.707590279, -117.955167673))
            ThreePointArc((41.707590279, -117.955167673), (42.63871913, -119.460547422), (44.327075673, -119.992168821))
            Line((44.327075673, -119.992168821), (74.977833246, -118.431947698))
            ThreePointArc((74.977833246, -118.431947698), (77.260514216, -117.347366386), (78.107698609, -114.966352394))
        make_face()
    cut_extrude8_tool4 = extrude(cut_extrude8_sk4.sketch, amount=-CUT_EXTRUDE8_REACH, mode=Mode.PRIVATE) & part.part
    add(cut_extrude8_tool1.solids().sort_by_distance((105.343886, 5.08, 140.249221))[0], mode=Mode.SUBTRACT)
    add(cut_extrude8_tool2.solids().sort_by_distance((95.519049, 5.08, 104.104227))[0], mode=Mode.SUBTRACT)
    add(cut_extrude8_tool3.solids().sort_by_distance((59.040951, 5.08, 141.665951))[0], mode=Mode.SUBTRACT)
    add(cut_extrude8_tool4.solids().sort_by_distance((57.358375, 5.08, 105.411736))[0], mode=Mode.SUBTRACT)

    # Fillet1
    fillet1_edges = [part.edges().sort_by_distance(p)[0] for p in [
        (268.273601144, 2.54, 27.385651725),
        (228.792351717, 2.54, 83.300271022),
        (125.043218003, 2.54, 31.548799417),
        (251.718937312, 2.54, 10.013599753),
        (203.83327128, 2.54, 31.548799417),
    ]]
    fillet(fillet1_edges, radius=FILLET1_R)


solid = part.part
